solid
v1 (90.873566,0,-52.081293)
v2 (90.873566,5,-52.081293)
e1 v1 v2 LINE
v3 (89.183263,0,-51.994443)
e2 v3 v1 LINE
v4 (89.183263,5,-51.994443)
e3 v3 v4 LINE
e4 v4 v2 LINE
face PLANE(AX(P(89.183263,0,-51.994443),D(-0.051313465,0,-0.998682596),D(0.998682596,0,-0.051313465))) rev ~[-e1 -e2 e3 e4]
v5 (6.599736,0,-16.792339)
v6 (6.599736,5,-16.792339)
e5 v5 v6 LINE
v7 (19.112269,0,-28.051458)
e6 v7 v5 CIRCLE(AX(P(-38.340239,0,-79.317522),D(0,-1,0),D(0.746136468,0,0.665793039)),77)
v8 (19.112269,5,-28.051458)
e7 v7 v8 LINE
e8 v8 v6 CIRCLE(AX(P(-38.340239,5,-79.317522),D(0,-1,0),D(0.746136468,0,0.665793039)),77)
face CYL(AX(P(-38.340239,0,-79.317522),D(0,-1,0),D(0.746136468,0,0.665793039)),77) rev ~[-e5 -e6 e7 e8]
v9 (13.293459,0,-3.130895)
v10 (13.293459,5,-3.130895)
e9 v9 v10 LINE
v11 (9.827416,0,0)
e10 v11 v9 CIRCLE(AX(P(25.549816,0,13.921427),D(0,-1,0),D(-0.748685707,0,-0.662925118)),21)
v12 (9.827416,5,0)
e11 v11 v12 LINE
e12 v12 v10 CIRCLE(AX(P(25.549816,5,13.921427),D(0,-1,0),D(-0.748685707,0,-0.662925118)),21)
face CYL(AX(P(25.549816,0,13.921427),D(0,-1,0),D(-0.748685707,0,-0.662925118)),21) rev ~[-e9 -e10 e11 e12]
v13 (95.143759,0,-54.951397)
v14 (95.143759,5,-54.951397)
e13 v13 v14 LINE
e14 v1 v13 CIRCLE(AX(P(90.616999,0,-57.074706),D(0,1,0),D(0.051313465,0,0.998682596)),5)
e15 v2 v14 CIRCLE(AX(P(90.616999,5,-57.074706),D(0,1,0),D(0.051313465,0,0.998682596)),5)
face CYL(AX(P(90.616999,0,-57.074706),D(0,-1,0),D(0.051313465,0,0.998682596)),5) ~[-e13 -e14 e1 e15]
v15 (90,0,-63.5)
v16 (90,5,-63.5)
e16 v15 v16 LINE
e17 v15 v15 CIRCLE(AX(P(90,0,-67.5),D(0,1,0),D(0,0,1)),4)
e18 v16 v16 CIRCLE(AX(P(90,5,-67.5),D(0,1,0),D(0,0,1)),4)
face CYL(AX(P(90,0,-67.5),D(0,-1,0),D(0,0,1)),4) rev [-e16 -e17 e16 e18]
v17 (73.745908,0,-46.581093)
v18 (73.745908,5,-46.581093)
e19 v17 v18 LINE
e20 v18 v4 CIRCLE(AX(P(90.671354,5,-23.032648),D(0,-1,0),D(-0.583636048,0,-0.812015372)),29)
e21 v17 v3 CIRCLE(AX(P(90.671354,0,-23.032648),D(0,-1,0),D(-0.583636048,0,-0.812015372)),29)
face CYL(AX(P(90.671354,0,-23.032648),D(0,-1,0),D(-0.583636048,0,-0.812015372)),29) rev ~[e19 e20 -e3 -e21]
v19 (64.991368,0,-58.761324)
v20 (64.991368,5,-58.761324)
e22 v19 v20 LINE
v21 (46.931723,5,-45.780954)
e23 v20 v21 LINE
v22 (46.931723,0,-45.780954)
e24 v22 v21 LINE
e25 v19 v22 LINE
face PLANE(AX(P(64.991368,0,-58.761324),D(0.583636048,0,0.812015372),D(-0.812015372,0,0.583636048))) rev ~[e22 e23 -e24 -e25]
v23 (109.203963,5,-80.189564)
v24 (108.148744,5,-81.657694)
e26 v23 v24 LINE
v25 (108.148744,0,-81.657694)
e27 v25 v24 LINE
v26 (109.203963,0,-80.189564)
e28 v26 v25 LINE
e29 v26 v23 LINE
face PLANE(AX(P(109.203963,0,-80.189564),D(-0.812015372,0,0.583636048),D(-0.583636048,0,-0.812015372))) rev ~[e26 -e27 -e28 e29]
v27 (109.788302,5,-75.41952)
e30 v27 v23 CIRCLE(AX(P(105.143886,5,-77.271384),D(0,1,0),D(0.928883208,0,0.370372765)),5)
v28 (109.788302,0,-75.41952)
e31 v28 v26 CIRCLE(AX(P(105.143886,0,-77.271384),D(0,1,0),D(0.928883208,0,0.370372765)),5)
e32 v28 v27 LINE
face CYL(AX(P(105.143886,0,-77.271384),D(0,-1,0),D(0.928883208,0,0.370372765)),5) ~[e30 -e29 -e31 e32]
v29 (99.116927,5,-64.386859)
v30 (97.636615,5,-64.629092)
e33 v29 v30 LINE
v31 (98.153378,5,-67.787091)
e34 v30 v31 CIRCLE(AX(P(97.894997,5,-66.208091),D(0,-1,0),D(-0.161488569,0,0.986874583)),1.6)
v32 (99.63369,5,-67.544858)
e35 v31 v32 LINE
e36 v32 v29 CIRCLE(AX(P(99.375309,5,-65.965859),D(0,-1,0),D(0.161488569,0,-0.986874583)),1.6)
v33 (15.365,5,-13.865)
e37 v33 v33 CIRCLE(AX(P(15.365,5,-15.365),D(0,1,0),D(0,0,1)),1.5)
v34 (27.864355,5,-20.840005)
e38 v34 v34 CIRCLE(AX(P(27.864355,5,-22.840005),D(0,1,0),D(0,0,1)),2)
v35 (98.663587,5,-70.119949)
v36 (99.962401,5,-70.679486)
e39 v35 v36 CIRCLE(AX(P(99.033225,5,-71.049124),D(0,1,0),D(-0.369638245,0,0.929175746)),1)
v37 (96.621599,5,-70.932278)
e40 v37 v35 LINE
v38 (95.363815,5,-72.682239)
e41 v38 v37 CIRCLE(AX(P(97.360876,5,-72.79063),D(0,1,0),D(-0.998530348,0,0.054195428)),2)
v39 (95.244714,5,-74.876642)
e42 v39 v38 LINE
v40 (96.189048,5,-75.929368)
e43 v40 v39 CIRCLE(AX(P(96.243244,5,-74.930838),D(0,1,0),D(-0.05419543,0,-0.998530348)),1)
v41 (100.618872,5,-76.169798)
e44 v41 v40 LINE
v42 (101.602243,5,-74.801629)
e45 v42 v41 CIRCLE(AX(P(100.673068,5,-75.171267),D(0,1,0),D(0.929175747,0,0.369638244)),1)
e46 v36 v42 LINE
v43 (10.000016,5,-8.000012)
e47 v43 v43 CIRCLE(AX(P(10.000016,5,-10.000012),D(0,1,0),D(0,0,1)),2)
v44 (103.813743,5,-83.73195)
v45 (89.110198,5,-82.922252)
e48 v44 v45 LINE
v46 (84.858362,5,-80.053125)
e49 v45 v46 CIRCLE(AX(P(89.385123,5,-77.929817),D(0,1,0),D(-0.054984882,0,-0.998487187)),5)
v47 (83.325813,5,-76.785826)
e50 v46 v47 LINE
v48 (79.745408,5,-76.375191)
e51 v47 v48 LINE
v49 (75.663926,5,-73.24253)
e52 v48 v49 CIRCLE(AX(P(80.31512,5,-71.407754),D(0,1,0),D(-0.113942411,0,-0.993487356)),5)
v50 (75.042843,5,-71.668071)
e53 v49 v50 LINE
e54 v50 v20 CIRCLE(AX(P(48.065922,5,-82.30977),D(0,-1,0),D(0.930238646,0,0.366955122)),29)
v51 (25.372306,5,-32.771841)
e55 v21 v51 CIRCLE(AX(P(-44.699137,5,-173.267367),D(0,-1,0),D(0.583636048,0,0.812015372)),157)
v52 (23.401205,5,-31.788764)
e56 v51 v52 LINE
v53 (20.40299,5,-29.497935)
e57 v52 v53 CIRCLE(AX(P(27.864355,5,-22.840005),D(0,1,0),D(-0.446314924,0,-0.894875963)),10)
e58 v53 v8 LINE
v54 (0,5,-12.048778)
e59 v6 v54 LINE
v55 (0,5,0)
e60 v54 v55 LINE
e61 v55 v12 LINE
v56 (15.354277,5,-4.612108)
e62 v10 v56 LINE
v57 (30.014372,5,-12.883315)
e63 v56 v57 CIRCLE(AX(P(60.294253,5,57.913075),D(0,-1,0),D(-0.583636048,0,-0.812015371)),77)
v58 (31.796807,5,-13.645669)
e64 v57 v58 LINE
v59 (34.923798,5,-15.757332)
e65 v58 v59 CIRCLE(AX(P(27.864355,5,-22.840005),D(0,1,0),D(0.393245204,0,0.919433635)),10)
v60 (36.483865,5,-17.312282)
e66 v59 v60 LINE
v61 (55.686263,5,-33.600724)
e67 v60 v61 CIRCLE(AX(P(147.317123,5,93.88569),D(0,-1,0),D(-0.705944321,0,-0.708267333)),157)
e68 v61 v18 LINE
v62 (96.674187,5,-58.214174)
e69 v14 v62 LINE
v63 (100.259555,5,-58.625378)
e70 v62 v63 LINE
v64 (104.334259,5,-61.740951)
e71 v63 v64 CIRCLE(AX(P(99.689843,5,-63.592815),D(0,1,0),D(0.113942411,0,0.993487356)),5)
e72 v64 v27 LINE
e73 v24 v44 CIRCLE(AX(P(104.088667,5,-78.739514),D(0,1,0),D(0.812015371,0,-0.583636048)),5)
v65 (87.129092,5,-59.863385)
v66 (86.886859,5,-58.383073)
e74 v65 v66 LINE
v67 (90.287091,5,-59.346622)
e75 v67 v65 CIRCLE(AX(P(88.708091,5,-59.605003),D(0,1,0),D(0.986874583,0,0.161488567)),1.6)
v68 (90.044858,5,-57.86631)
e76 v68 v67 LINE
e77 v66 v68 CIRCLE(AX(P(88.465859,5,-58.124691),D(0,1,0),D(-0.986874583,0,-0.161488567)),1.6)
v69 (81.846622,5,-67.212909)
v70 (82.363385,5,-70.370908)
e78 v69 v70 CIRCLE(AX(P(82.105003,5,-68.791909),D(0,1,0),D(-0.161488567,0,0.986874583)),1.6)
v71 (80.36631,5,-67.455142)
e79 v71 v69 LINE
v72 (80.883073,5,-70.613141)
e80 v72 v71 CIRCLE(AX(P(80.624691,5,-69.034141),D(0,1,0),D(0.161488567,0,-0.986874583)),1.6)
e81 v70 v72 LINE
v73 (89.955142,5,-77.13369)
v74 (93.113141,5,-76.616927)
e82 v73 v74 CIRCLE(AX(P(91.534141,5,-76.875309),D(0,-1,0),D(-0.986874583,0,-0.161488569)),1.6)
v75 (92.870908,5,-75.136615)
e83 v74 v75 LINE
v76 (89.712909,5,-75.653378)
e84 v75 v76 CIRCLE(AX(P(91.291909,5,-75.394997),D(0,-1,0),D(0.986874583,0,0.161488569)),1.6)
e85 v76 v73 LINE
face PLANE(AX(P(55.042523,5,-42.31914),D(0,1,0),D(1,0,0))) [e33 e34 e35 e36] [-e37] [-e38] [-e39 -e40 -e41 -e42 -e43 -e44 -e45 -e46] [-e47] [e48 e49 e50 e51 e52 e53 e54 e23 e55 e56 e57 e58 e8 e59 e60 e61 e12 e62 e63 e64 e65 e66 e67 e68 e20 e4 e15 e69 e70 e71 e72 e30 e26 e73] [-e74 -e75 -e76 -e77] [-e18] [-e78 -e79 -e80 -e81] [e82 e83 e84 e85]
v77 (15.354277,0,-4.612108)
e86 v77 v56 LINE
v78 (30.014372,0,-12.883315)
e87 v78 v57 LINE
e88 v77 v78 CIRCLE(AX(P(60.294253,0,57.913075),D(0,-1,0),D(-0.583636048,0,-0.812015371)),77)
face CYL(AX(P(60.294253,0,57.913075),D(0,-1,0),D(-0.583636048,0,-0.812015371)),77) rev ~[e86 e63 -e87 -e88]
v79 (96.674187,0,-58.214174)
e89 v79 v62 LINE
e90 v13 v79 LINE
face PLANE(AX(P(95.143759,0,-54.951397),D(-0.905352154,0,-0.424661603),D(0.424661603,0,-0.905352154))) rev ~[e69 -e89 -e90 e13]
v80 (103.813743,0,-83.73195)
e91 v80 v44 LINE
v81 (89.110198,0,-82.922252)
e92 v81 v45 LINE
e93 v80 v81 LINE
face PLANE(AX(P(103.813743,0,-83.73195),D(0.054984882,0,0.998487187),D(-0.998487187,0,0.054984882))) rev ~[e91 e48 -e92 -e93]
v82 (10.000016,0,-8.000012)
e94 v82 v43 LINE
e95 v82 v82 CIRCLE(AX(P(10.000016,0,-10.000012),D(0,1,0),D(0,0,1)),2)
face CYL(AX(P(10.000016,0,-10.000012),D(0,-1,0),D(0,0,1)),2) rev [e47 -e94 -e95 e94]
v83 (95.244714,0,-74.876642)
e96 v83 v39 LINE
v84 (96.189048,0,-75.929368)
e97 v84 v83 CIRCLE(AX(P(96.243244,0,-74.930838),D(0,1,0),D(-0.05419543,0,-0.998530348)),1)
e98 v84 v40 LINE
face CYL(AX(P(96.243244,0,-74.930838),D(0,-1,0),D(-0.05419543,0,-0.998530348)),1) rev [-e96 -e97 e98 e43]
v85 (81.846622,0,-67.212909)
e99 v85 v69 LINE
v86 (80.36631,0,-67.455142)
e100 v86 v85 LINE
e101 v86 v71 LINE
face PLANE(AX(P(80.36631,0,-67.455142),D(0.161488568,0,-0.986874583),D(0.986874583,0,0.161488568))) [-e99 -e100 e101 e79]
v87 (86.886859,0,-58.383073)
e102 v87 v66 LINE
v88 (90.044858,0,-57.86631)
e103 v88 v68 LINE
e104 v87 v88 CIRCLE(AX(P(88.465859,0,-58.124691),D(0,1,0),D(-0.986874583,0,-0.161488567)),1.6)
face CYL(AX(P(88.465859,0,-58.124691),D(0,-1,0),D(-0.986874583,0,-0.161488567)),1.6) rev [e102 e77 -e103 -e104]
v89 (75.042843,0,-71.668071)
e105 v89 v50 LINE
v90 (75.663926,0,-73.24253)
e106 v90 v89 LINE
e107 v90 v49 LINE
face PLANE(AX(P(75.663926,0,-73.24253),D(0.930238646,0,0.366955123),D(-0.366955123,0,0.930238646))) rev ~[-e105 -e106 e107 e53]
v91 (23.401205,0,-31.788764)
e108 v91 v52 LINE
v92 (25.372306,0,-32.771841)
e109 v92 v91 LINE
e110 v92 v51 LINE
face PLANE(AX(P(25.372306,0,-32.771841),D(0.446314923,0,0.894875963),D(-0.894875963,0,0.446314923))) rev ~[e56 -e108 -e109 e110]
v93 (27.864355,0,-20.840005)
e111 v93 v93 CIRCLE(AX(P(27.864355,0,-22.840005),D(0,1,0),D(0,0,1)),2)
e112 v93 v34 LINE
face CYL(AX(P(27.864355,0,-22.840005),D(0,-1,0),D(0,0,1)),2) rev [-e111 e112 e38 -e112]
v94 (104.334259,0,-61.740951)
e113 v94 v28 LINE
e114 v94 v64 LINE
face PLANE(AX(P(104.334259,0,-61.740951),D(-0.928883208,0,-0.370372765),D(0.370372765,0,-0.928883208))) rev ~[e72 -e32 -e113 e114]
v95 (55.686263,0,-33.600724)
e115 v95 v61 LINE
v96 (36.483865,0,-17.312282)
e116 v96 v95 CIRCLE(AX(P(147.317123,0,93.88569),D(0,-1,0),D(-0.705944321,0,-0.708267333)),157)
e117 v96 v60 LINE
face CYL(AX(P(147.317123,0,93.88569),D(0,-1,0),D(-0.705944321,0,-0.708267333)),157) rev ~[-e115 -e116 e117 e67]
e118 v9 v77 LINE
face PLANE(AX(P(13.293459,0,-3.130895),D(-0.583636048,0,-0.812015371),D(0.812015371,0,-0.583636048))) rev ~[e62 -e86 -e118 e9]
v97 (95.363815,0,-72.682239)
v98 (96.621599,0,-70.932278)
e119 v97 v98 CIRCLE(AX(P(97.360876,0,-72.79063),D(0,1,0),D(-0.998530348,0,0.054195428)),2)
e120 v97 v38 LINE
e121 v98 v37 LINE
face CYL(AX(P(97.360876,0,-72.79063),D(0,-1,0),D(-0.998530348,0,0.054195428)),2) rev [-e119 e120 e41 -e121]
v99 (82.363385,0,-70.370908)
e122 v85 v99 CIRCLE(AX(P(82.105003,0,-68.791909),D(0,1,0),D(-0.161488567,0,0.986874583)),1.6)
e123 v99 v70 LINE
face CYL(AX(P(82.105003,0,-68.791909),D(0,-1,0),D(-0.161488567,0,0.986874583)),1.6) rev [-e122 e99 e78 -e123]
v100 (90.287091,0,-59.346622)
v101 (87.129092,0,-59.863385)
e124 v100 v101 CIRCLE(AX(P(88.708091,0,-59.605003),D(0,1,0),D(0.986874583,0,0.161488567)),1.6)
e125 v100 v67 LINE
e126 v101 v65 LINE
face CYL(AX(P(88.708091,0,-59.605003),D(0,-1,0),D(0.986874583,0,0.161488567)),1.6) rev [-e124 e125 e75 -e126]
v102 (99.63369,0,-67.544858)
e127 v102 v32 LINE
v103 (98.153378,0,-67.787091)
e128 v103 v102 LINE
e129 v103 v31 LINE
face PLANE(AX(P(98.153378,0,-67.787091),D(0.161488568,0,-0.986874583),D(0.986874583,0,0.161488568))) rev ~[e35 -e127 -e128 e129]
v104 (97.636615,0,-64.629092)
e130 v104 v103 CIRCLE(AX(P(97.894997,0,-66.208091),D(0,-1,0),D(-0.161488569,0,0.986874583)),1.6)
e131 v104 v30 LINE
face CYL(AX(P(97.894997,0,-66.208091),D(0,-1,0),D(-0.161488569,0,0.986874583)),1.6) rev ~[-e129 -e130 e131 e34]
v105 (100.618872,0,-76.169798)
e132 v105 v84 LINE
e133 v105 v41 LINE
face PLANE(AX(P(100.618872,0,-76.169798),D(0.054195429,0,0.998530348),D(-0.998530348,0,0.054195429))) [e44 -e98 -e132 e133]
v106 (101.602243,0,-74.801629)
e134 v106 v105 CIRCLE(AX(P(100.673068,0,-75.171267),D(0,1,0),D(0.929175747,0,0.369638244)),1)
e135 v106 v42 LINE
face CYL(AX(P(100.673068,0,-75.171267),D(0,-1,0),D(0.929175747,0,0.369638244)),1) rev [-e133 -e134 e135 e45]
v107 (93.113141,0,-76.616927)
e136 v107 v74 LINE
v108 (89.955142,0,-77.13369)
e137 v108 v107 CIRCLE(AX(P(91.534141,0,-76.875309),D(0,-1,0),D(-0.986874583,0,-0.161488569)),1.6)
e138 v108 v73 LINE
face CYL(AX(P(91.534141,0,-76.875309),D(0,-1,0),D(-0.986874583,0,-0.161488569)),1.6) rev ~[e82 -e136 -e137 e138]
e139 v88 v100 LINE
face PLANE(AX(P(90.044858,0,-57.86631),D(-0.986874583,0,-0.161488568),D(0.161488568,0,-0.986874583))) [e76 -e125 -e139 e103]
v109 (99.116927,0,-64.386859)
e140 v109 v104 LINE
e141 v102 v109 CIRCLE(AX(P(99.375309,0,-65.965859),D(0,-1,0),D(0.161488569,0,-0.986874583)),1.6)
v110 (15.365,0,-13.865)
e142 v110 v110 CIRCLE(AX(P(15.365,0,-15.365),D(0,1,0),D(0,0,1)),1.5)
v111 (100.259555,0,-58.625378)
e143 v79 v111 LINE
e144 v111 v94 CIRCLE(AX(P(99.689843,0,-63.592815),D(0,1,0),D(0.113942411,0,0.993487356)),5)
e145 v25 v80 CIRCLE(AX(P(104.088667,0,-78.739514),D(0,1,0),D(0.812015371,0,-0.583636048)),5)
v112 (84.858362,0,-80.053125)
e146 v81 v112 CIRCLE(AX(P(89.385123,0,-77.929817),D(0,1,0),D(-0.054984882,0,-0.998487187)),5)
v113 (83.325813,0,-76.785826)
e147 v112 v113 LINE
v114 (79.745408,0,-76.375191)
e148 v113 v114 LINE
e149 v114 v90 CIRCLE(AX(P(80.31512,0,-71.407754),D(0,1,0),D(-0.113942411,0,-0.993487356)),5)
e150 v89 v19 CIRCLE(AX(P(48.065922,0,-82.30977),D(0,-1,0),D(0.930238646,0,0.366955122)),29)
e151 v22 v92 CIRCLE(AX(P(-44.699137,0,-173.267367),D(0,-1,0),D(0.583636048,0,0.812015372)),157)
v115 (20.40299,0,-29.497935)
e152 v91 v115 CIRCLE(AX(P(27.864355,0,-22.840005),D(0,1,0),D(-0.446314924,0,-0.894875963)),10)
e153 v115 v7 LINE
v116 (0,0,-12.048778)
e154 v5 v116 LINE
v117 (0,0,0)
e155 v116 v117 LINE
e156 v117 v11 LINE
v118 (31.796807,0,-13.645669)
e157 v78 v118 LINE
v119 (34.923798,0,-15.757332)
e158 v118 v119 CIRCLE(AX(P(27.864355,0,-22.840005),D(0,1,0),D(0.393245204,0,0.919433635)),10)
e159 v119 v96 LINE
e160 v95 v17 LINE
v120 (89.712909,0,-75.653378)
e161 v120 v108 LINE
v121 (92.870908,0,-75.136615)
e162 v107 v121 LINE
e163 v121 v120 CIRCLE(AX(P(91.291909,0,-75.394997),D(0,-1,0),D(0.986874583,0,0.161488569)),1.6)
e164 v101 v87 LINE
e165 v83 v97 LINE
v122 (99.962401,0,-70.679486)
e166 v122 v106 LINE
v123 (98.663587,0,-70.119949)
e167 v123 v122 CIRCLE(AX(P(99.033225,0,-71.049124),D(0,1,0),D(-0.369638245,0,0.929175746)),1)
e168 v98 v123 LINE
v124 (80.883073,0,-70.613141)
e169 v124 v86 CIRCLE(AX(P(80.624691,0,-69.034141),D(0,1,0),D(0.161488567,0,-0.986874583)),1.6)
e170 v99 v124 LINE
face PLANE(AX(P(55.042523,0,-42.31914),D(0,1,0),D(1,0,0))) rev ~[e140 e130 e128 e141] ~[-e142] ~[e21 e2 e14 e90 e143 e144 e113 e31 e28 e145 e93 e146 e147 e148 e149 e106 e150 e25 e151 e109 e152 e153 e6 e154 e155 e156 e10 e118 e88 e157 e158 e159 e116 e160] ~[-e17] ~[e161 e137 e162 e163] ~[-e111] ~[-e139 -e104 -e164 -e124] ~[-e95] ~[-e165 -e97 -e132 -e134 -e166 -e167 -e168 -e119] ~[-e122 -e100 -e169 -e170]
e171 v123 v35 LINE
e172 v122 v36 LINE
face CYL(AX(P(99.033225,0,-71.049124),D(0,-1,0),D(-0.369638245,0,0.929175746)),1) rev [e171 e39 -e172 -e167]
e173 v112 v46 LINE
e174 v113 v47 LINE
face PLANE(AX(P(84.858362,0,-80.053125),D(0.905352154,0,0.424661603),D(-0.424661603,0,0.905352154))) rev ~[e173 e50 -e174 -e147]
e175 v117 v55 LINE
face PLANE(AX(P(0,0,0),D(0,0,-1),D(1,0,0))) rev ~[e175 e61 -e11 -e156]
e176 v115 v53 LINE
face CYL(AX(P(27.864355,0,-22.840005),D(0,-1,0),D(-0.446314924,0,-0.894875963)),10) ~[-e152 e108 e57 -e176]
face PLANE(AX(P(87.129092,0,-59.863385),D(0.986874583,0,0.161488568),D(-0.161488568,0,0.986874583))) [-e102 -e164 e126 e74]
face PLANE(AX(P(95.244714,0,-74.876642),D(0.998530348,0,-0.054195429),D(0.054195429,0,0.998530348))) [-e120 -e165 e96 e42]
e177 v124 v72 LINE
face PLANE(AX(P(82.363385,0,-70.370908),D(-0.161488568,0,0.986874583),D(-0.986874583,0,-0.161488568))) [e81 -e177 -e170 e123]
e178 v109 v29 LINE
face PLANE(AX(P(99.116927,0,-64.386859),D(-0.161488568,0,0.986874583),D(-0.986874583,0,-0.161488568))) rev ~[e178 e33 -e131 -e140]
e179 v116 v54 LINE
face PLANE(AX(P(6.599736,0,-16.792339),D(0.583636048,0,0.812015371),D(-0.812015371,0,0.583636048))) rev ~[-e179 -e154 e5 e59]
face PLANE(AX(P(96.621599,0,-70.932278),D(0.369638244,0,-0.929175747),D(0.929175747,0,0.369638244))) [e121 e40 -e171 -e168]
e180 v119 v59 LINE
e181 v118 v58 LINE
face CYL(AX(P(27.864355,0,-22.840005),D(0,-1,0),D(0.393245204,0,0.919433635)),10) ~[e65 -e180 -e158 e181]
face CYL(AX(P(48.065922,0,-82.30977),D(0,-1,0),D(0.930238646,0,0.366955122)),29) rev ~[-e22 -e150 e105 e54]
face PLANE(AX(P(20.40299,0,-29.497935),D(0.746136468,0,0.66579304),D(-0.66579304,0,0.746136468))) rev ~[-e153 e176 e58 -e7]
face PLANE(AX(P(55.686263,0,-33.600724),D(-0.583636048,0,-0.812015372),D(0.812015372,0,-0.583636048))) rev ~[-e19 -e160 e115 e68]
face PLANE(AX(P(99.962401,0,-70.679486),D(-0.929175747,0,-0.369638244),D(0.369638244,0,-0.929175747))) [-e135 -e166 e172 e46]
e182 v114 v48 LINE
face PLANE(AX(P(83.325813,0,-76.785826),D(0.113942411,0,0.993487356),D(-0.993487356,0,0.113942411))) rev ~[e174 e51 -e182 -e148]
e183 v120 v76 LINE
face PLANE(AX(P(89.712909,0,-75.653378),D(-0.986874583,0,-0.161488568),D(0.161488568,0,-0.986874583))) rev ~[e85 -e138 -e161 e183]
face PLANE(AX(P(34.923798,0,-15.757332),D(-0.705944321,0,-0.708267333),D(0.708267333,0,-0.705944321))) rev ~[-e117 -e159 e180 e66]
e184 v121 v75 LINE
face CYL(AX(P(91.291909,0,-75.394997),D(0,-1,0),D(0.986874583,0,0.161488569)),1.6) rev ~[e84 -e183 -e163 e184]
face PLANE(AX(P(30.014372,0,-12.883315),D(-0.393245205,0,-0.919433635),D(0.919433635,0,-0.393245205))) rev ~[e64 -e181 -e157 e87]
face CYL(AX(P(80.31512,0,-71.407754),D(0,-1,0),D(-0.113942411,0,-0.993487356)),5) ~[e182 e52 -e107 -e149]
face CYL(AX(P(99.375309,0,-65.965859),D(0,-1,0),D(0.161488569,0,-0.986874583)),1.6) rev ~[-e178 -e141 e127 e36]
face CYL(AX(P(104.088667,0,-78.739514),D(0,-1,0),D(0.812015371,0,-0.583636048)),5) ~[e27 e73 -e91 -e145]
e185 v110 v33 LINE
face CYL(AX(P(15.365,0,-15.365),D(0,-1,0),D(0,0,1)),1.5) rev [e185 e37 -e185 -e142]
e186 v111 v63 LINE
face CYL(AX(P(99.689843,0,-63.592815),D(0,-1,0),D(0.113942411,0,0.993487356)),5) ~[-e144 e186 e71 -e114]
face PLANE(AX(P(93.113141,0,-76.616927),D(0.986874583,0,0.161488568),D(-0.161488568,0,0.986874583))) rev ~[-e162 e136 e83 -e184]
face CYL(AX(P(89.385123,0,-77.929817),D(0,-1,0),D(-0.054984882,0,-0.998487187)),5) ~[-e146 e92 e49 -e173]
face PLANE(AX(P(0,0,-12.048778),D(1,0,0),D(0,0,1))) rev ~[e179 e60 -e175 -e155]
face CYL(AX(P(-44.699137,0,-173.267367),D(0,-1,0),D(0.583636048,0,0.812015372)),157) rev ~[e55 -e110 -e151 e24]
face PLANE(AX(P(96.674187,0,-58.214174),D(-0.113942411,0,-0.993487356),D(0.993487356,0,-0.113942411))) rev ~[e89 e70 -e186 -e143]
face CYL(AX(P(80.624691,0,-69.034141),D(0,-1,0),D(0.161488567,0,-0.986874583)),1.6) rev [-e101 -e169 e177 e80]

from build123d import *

# Parameters (mm, degrees)
SKETCH2_R           = 2
SKETCH2_R_2         = 1.5
SKETCH2_R_3         = 4
BOSS_EXTRUDE1_DEPTH = 5


with BuildPart() as part:
    # Sketch2 → Boss-Extrude1 (new body)
    with BuildSketch(Plane(origin=(0, 0, 0), x_dir=(1, 0, 0), z_dir=(0, 1, 0))):
        with BuildLine():
            Line((96.674187099, 58.214174471), (100.259554689, 58.62537792))
            ThreePointArc((100.259554689, 58.62537792), (102.726861183, 59.620848143), (104.334258678, 61.740950876))
            Line((104.334258678, 61.740950876), (109.788302134, 75.41951978))
            ThreePointArc((109.788302134, 75.41951978), (110.106786378, 77.879348033), (109.203962948, 80.189563845))
            Line((109.203962948, 80.189563845), (108.148744134, 81.65769437))
            ThreePointArc((108.148744134, 81.65769437), (106.246786582, 83.249782532), (103.813742867, 83.731950064))
            Line((103.813742867, 83.731950064), (89.110198155, 82.922252473))
            ThreePointArc((89.110198155, 82.922252473), (86.58833532, 82.074449344), (84.858361795, 80.053124553))
            Line((84.858361795, 80.053124553), (83.325812901, 76.785825529))
            Line((83.325812901, 76.785825529), (79.745407576, 76.375191199))
            ThreePointArc((79.745407576, 76.375191199), (77.270804519, 75.374131292), (75.6639264, 73.24253003))
            Line((75.6639264, 73.24253003), (75.042843012, 71.6680711))
            ThreePointArc((75.042843012, 71.6680711), (70.946054903, 64.491253119), (64.991367673, 58.761323876))
            Line((64.991367673, 58.761323876), (46.931722679, 45.780954047))
            ThreePointArc((46.931722679, 45.780954047), (36.413241445, 38.843477801), (25.372306119, 32.77184118))
            Line((25.372306119, 32.77184118), (23.401205332, 31.788764494))
            ThreePointArc((23.401205332, 31.788764494), (21.793071121, 30.786042702), (20.402989885, 29.497935256))
            Line((20.402989885, 29.497935256), (19.112268572, 28.051458372))
            ThreePointArc((19.112268572, 28.051458372), (13.16458677, 22.078961314), (6.599736248, 16.792338805))
            Line((6.599736248, 16.792338805), (0, 12.048778377))
            Line((0, 12.048778377), (0, 0))
            Line((0, 0), (9.827416163, 0))
            ThreePointArc((9.827416163, 0), (11.473121255, 1.662110783), (13.293458997, 3.130895317))
            Line((13.293458997, 3.130895317), (15.354276971, 4.612108235))
            ThreePointArc((15.354276971, 4.612108235), (22.457631343, 9.149507995), (30.014371949, 12.883314543))
            Line((30.014371949, 12.883314543), (31.796806607, 13.645668513))
            ThreePointArc((31.796806607, 13.645668513), (33.460801696, 14.552678424), (34.923797775, 15.757331529))
            Line((34.923797775, 15.757331529), (36.483864554, 17.312281519))
            ThreePointArc((36.483864554, 17.312281519), (45.757987001, 25.842092678), (55.686263447, 33.60072351))
            Line((55.686263447, 33.60072351), (73.745908403, 46.581093312))
            ThreePointArc((73.745908403, 46.581093312), (81.074965721, 50.398855458), (89.183263316, 51.994442832))
            Line((89.183263316, 51.994442832), (90.873565855, 52.081292528))
            ThreePointArc((90.873565855, 52.081292528), (93.406161944, 52.924938353), (95.143759302, 54.951397494))
            Line((95.143759302, 54.951397494), (96.674187099, 58.214174471))
        make_face()
        with Locations(Location((10.000016395, 10.000011804, 0), (0, 0, 270))):
            Circle(SKETCH2_R, mode=Mode.SUBTRACT)
        with Locations(Location((27.864354565, 22.840004863, 0), (0, 0, 270))):
            Circle(SKETCH2_R, mode=Mode.SUBTRACT)
        with Locations(Location((15.365, 15.365, 0), (0, 0, 270))):
            Circle(SKETCH2_R_2, mode=Mode.SUBTRACT)
        with Locations(Location((90, 67.5, 0), (0, 0, 270))):
            Circle(SKETCH2_R_3, mode=Mode.SUBTRACT)
        with BuildLine():
            Line((100.618872181, 76.169797692), (96.189048483, 75.92936815))
            ThreePointArc((96.189048483, 75.92936815), (95.498854377, 75.598583427), (95.244713564, 74.876642374))
            Line((95.244713564, 74.876642374), (95.363815249, 72.682238728))
            ThreePointArc((95.363815249, 72.682238728), (95.736845201, 71.623357489), (96.621599456, 70.932278091))
            Line((96.621599456, 70.932278091), (98.663587114, 70.119948739))
            ThreePointArc((98.663587114, 70.119948739), (99.428878121, 70.130724305), (99.962401105, 70.679486242))
            Line((99.962401105, 70.679486242), (101.602243357, 74.8016291))
            ThreePointArc((101.602243357, 74.8016291), (101.485082981, 75.754903393), (100.618872181, 76.169797692))
        make_face(mode=Mode.SUBTRACT)
        with BuildLine():
            Line((99.116926829, 64.38685927), (97.636614954, 64.629092122))
            ThreePointArc((97.636614954, 64.629092122), (96.315997331, 66.466473164), (98.153378372, 67.787090788))
            Line((98.153378372, 67.787090788), (99.633690247, 67.544857936))
            ThreePointArc((99.633690247, 67.544857936), (100.95430787, 65.707476894), (99.116926829, 64.38685927))
        make_face(mode=Mode.SUBTRACT)
        with BuildLine():
            Line((93.11314073, 76.616926829), (92.870907878, 75.136614954))
            ThreePointArc((92.870907878, 75.136614954), (91.033526836, 73.815997331), (89.712909212, 75.653378372))
            Line((89.712909212, 75.653378372), (89.955142064, 77.133690247))
            ThreePointArc((89.955142064, 77.133690247), (91.792523106, 78.45430787), (93.11314073, 76.616926829))
        make_face(mode=Mode.SUBTRACT)
        with BuildLine():
            Line((80.366309753, 67.455142064), (81.846621628, 67.212909212))
            ThreePointArc((81.846621628, 67.212909212), (83.684002669, 68.533526836), (82.363385046, 70.370907878))
            Line((82.363385046, 70.370907878), (80.883073171, 70.61314073))
            ThreePointArc((80.883073171, 70.61314073), (79.04569213, 69.292523106), (80.366309753, 67.455142064))
        make_face(mode=Mode.SUBTRACT)
        with BuildLine():
            Line((90.044857936, 57.866309753), (90.287090788, 59.346621628))
            ThreePointArc((90.287090788, 59.346621628), (88.966473164, 61.184002669), (87.129092122, 59.863385046))
            Line((87.129092122, 59.863385046), (86.88685927, 58.383073171))
            ThreePointArc((86.88685927, 58.383073171), (88.207476894, 56.54569213), (90.044857936, 57.866309753))
        make_face(mode=Mode.SUBTRACT)
    extrude(amount=BOSS_EXTRUDE1_DEPTH)


solid = part.part
